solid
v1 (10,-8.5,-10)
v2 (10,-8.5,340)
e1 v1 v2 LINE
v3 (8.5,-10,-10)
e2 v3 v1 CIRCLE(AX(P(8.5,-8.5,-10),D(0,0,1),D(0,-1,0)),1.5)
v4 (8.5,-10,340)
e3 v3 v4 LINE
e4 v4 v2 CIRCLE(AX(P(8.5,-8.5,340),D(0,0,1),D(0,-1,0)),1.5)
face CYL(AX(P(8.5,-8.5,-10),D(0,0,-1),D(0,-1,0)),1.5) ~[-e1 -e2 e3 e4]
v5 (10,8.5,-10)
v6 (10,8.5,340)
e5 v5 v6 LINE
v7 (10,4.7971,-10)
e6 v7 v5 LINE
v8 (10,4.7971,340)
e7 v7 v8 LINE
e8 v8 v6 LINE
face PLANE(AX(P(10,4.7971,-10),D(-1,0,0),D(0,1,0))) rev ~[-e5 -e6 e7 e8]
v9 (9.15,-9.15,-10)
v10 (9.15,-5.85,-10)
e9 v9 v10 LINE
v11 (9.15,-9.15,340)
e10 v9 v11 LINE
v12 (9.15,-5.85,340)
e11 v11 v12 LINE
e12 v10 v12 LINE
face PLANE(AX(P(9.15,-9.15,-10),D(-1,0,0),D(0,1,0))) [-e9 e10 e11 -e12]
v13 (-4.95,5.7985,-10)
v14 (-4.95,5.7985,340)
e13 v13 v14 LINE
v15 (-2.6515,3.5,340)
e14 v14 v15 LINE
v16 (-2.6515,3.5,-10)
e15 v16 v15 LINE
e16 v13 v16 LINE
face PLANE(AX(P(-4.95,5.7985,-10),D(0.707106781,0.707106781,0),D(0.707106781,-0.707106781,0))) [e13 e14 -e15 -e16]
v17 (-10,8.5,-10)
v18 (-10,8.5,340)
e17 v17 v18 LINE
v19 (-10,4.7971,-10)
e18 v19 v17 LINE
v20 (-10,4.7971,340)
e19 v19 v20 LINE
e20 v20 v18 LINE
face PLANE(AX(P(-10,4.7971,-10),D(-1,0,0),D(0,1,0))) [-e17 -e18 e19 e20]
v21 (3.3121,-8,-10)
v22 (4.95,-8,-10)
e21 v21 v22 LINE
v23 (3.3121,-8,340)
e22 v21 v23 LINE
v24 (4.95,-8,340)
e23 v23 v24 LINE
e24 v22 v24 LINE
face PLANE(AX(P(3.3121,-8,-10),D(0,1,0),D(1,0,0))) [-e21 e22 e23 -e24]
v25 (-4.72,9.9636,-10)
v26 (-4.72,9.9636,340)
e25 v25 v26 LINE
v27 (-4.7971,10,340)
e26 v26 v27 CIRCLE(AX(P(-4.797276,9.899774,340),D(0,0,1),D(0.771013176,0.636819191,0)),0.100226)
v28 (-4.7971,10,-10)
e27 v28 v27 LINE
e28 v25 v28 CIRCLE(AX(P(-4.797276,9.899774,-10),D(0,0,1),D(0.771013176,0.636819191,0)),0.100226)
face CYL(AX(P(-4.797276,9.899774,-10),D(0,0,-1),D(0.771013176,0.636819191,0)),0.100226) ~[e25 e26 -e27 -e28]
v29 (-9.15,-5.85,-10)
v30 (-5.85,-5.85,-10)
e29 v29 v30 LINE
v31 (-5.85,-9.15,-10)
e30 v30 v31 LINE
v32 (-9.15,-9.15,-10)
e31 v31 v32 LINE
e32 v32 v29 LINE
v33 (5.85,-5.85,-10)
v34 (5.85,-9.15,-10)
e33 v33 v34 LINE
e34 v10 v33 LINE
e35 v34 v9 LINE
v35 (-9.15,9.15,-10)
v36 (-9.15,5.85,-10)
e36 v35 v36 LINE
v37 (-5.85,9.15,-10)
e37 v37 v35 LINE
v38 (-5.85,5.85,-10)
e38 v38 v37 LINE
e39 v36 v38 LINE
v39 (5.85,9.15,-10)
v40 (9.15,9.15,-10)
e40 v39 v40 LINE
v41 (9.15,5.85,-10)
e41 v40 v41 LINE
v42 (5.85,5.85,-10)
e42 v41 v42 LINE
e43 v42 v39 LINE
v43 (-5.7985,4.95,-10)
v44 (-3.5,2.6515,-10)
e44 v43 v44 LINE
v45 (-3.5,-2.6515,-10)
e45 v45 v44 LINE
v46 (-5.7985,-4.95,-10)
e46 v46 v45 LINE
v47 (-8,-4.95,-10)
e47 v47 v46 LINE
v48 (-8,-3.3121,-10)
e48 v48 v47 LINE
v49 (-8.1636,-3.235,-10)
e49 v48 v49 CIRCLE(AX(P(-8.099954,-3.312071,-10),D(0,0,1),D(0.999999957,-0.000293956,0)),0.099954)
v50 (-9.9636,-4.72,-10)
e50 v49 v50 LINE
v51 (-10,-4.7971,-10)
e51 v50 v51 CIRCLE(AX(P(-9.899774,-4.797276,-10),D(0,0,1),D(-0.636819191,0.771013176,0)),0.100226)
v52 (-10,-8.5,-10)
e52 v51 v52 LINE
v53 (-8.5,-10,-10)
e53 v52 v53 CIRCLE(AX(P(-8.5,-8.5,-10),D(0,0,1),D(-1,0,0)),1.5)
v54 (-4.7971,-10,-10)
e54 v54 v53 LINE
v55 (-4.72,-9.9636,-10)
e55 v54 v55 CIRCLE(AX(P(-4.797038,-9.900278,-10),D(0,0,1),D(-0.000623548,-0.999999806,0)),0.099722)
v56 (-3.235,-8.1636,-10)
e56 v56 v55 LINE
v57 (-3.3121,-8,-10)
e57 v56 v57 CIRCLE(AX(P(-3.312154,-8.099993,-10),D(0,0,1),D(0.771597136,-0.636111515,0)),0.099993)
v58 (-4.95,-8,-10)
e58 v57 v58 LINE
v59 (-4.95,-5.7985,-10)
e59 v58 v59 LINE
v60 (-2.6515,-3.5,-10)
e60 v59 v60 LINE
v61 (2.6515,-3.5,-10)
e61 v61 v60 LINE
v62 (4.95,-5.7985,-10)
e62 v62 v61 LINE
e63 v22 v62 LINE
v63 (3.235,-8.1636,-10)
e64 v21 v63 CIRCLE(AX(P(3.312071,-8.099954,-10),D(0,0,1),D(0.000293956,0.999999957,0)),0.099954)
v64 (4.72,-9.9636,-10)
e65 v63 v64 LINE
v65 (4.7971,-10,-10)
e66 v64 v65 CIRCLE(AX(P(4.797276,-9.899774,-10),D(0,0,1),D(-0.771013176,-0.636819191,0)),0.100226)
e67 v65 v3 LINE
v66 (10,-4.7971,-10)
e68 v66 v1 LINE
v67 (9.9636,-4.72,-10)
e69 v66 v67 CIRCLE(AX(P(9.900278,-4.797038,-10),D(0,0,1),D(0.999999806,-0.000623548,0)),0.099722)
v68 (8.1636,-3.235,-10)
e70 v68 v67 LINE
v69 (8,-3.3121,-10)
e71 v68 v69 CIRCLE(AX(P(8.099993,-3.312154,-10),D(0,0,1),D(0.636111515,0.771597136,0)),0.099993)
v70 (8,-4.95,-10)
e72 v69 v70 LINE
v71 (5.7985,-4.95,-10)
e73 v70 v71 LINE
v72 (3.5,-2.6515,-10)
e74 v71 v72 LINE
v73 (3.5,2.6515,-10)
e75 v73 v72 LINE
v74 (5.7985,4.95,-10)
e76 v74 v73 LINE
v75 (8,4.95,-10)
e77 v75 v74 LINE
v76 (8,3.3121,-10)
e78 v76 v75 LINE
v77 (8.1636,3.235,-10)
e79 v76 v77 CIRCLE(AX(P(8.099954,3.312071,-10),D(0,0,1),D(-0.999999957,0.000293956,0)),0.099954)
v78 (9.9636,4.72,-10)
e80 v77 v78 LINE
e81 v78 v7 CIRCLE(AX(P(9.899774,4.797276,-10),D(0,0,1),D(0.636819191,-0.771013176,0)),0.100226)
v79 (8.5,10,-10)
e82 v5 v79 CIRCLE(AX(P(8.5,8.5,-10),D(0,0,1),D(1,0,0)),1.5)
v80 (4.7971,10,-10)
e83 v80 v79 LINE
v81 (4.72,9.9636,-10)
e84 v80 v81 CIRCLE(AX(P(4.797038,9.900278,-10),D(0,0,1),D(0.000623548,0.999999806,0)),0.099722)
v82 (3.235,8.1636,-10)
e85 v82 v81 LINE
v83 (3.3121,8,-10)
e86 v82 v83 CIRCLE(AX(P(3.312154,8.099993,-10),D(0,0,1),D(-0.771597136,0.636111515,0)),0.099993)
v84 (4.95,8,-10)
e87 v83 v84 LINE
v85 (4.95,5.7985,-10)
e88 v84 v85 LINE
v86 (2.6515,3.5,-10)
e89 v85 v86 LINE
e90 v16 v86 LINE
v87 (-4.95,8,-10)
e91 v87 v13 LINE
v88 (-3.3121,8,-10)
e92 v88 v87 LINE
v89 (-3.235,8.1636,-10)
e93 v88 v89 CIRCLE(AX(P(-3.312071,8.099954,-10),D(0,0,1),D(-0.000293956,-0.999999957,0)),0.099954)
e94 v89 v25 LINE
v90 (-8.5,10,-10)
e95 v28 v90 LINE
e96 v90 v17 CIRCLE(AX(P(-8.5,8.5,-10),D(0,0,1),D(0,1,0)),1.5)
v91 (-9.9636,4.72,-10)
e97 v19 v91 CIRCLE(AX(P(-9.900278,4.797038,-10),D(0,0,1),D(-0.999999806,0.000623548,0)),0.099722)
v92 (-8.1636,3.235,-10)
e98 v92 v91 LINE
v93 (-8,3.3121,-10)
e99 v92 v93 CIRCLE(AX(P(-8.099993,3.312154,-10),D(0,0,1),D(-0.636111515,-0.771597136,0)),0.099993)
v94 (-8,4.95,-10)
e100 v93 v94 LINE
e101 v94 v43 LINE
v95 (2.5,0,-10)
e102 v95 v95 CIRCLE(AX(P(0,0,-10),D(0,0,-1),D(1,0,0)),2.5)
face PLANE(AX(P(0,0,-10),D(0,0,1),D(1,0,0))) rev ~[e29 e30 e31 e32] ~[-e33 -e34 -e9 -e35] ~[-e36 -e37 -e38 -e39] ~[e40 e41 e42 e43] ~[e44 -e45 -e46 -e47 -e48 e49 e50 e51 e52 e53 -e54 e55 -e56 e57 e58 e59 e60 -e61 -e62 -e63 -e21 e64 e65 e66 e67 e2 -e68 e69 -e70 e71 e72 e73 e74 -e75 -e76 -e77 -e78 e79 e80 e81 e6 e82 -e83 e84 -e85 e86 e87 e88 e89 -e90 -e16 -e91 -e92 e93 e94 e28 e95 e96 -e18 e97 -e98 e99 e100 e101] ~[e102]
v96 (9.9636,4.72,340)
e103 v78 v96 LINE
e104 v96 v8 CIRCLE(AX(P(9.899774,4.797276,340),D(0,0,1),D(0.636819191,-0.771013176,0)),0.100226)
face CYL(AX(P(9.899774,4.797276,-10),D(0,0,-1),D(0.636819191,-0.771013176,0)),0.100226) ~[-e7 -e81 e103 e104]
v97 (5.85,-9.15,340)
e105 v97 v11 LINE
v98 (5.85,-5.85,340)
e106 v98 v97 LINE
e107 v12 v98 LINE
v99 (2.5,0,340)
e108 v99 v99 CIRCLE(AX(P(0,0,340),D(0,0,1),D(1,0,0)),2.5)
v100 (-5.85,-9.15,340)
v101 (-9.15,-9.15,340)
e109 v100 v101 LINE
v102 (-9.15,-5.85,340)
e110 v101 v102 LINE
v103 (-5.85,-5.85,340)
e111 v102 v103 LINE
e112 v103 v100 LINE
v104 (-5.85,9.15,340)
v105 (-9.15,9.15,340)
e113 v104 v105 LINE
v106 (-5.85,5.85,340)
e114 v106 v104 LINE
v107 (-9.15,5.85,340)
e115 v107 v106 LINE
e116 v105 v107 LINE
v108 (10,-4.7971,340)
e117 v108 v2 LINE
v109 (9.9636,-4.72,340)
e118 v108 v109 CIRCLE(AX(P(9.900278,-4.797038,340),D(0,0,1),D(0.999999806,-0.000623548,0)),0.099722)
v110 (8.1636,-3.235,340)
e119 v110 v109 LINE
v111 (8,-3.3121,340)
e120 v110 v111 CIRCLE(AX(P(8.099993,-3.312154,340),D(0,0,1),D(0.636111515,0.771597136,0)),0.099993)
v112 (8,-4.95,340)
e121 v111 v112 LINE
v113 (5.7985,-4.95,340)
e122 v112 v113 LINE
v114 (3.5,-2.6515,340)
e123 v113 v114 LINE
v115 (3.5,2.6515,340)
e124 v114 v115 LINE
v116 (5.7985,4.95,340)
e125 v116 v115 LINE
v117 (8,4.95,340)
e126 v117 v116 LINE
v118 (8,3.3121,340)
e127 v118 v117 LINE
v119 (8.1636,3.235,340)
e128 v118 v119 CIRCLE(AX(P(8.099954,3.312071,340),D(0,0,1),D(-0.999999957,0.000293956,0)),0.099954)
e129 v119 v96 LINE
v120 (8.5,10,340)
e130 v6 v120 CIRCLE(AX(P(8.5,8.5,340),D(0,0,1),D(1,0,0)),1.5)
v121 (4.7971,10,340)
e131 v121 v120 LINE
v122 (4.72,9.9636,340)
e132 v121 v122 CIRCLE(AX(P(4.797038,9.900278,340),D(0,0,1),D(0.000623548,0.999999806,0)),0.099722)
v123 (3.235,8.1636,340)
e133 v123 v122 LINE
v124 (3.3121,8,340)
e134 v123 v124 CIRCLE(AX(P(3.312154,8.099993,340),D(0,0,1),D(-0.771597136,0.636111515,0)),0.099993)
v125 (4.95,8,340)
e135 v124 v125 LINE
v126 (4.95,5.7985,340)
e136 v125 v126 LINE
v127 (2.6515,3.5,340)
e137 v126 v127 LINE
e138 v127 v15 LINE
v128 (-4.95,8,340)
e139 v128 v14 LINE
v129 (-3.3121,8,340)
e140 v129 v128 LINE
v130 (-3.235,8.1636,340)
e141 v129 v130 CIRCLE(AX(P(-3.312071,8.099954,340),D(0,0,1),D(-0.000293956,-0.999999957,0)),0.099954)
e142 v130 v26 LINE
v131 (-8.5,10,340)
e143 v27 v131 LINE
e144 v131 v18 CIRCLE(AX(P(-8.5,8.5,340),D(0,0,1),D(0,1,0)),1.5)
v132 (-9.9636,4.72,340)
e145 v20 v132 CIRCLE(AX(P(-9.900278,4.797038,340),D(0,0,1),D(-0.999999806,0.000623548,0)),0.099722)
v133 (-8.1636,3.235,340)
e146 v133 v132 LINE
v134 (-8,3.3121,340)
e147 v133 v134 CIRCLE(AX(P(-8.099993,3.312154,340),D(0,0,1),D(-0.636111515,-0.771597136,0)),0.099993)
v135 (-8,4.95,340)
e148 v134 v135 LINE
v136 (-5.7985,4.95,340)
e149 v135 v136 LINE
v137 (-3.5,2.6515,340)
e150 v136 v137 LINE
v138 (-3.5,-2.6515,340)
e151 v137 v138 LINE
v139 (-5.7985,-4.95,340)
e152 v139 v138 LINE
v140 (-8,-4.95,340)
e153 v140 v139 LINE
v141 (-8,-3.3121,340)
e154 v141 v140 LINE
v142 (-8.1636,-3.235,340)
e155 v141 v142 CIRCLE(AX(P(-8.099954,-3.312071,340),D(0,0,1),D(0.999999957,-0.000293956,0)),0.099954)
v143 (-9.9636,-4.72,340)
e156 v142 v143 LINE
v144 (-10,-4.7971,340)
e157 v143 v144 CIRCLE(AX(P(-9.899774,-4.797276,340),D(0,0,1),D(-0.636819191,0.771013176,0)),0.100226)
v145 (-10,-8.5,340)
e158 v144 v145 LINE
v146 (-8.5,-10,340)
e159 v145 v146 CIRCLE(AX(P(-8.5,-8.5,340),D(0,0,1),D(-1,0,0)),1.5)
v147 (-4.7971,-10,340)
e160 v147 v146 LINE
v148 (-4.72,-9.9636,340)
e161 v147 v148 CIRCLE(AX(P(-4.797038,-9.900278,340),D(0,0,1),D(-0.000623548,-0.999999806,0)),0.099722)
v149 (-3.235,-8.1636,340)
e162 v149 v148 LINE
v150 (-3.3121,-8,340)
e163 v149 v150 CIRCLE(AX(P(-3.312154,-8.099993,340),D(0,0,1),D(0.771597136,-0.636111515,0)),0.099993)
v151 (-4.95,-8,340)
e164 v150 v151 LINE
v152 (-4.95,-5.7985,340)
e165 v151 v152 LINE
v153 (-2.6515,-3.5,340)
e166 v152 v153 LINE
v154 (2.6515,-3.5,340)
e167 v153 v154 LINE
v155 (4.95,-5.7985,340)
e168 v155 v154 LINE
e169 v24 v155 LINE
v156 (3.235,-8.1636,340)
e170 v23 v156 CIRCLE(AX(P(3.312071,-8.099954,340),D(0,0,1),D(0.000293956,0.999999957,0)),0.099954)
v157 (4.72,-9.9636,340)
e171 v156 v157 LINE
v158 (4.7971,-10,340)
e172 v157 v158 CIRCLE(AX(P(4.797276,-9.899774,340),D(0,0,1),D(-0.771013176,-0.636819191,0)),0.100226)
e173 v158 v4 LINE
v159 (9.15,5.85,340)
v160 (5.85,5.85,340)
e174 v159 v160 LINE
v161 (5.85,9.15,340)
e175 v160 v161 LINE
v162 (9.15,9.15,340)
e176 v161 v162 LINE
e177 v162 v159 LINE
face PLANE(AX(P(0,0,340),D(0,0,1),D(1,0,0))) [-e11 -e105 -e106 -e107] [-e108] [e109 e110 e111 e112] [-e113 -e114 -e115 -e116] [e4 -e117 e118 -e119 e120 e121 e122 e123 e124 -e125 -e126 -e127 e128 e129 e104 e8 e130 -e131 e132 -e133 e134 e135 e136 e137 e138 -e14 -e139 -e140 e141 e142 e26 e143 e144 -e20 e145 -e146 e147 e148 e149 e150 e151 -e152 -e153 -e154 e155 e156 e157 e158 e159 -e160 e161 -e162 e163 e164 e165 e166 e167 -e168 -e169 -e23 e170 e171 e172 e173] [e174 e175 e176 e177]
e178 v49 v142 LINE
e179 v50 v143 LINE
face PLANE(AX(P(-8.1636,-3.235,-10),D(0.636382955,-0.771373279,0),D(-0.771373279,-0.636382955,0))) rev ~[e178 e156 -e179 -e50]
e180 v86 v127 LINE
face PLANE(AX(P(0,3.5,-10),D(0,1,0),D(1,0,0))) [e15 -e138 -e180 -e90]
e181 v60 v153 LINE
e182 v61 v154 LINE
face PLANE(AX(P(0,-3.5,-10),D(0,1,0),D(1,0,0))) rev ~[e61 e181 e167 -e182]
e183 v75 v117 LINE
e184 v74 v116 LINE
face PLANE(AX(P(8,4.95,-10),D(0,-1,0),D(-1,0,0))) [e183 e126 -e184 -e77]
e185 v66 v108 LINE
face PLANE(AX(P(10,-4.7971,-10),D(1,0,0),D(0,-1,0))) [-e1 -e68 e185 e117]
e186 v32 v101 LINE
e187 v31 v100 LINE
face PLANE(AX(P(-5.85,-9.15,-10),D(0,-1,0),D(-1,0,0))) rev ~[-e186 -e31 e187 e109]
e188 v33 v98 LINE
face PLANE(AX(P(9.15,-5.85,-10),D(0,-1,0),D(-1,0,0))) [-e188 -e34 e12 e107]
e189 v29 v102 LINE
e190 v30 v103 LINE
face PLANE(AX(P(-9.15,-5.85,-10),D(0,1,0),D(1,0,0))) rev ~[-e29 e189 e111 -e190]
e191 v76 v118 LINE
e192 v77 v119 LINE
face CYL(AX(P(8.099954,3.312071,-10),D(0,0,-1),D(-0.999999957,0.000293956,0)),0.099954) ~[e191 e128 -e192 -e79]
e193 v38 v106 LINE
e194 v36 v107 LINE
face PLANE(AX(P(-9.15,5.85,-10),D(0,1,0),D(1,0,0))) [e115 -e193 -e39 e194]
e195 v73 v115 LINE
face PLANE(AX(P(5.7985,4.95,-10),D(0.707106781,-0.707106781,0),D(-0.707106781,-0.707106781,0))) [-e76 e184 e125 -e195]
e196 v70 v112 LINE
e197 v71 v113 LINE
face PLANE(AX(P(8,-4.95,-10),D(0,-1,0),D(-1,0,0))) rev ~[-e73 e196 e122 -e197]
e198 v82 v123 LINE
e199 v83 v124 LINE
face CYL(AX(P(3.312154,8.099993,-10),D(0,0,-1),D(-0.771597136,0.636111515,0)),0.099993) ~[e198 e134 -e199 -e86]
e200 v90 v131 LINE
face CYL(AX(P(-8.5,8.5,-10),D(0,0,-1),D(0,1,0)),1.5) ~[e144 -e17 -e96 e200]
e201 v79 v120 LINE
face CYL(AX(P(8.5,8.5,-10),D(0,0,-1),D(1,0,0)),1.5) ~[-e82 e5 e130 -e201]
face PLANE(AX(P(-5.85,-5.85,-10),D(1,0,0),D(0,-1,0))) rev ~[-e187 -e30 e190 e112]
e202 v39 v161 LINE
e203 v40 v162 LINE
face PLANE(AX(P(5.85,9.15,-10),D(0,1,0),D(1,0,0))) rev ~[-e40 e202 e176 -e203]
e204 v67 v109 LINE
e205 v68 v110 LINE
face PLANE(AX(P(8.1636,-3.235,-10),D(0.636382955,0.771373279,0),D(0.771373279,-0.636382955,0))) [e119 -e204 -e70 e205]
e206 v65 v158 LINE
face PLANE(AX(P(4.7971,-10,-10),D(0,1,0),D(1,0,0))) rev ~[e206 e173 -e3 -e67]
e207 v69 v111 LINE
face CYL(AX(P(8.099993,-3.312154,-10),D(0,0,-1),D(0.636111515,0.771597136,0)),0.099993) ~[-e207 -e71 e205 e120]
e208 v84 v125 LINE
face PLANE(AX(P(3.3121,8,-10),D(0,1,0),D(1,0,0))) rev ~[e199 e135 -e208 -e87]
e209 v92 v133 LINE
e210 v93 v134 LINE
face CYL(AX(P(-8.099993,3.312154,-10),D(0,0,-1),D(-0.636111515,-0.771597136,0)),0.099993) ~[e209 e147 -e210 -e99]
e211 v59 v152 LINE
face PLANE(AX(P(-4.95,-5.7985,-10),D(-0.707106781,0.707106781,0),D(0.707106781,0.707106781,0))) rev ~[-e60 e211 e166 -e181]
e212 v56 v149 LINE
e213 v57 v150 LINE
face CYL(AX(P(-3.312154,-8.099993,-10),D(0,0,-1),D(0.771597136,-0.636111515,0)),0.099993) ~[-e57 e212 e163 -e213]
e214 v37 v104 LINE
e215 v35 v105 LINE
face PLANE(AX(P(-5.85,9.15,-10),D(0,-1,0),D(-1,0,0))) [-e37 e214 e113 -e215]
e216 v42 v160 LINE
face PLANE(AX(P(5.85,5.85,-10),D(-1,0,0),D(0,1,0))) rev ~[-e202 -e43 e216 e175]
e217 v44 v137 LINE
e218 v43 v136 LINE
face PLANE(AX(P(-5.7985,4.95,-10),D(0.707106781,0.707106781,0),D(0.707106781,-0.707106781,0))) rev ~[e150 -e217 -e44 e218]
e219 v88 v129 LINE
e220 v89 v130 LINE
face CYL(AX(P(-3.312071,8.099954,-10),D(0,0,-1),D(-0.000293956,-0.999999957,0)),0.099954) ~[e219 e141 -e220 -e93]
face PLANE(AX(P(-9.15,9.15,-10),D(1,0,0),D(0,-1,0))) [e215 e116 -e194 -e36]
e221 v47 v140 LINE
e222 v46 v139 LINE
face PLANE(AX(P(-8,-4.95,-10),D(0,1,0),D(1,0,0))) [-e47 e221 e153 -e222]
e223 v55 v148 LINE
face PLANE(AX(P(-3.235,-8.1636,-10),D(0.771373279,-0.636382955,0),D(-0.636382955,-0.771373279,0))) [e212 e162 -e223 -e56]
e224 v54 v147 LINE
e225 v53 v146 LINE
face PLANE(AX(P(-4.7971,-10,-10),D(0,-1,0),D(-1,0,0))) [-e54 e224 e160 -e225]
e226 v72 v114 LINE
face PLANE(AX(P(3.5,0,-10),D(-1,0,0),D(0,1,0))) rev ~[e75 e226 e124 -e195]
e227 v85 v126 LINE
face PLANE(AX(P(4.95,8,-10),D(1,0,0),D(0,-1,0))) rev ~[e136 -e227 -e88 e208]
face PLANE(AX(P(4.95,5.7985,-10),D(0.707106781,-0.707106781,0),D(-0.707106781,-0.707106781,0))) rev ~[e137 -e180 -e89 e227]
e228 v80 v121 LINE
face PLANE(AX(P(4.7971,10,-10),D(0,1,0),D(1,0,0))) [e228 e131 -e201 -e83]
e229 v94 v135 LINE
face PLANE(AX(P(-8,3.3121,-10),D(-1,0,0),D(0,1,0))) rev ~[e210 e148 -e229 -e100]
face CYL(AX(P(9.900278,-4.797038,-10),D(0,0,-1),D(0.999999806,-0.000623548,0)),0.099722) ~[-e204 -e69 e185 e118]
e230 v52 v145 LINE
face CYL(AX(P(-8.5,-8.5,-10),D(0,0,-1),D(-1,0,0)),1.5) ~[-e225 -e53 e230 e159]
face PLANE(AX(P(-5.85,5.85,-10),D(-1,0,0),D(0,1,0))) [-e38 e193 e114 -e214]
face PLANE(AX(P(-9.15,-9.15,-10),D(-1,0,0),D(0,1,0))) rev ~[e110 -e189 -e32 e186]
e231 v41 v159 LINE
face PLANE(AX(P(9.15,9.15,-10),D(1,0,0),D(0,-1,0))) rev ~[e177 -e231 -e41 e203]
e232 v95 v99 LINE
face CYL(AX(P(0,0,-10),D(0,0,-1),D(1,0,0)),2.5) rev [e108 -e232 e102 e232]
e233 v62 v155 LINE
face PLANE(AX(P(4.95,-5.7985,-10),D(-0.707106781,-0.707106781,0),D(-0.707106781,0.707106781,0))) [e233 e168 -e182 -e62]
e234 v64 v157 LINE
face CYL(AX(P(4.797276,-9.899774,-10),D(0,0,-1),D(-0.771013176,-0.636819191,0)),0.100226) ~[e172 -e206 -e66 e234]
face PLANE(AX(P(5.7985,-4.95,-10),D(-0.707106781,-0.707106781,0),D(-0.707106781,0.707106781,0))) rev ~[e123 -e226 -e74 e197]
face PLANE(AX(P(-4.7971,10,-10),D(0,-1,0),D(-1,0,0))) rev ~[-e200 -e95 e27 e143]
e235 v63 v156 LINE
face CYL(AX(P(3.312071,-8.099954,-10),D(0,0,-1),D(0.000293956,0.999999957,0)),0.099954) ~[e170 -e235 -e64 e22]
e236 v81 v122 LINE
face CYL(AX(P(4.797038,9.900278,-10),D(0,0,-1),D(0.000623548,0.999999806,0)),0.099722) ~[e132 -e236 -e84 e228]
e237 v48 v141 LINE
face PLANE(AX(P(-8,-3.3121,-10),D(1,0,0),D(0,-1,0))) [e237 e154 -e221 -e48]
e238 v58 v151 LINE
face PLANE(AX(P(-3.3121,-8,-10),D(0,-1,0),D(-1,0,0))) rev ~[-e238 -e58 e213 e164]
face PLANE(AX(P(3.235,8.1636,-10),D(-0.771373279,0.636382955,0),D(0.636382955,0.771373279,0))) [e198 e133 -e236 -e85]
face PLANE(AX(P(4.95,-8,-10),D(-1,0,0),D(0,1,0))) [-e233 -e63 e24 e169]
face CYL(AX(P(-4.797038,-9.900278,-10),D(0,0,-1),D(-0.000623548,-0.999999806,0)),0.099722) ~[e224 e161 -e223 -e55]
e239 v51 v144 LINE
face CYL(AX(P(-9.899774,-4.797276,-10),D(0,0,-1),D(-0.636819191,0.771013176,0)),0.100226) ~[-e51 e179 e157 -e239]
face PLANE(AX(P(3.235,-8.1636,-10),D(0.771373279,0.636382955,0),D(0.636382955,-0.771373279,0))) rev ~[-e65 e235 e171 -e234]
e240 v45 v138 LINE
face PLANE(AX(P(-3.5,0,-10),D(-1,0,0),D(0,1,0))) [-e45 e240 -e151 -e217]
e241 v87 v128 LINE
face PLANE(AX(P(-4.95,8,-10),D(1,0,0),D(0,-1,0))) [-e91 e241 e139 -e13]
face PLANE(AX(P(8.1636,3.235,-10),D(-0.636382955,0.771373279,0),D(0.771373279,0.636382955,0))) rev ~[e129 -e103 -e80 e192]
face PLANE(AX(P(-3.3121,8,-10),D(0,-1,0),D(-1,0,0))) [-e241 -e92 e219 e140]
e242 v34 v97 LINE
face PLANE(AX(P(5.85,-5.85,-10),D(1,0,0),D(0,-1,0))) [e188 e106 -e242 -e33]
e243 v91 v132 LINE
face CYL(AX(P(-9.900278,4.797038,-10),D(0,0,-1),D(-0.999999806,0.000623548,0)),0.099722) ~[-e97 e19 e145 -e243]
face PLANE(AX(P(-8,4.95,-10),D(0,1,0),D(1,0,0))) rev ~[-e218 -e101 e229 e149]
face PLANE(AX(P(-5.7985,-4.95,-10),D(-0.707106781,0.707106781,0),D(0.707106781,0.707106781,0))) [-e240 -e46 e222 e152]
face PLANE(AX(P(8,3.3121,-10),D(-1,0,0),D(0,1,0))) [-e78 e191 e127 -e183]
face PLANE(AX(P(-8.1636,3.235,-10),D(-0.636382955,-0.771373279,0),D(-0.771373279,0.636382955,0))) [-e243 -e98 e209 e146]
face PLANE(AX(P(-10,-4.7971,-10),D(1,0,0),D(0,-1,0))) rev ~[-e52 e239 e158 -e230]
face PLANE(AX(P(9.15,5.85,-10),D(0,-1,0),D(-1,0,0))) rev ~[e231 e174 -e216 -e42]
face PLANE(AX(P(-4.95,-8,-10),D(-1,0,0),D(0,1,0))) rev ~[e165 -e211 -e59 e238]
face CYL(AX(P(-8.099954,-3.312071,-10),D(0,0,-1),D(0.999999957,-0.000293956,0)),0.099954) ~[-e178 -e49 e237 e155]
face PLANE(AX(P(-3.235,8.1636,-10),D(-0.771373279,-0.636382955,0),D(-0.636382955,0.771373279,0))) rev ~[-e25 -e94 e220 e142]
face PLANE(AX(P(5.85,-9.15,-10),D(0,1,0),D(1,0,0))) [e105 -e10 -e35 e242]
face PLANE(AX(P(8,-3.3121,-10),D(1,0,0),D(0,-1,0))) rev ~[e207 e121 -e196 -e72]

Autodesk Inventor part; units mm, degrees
ref_plane "Начальная плоскость" through (0, 0, -10) normal (0, 0, 1) x (1, 0, 0)
ref_plane "Конечная плоскость" through (0, 0, 340) normal (0, 0, 1) x (1, 0, 0)
sketch "Эскиз" plane through (0, 0, 0) normal (0, 0, 1) x (1, 0, 0)
  line L0 (-14.4349, 0) -> (14.4349, 0) projected
  line L1 (0, -14) -> (0, 14) projected
  line L2 (0, 0) -> (7.5, 7.5) construction
  circle A0 centre (7.5, 7.5) radius 1.65 construction
  line L3 (5.85, 9.15) -> (9.15, 9.15)
  line L4 (9.15, 9.15) -> (9.15, 5.85)
  line L5 (9.15, 5.85) -> (5.85, 5.85)
  line L6 (5.85, 5.85) -> (5.85, 9.15)
  line L7 (3.235, 8.1636) -> (4.72, 9.9636)
  line L8 (4.7971, 10) -> (8.5, 10)
  line L9 (3.3121, 8) -> (4.95, 8)
  line L10 (4.95, 8) -> (4.95, 5.7985)
  line L11 (4.95, 5.7985) -> (2.6515, 3.5)
  line L12 (0, 3.5) -> (2.6515, 3.5)
  circle A1 centre (0, 0) radius 2.5
  line L13 (8.1636, 3.235) -> (9.9636, 4.72)
  line L14 (10, 4.7971) -> (10, 8.5)
  line L15 (8, 3.3121) -> (8, 4.95)
  line L16 (8, 4.95) -> (5.7985, 4.95)
  line L17 (5.7985, 4.95) -> (3.5, 2.6515)
  line L18 (3.5, 0) -> (3.5, 2.6515)
  arc A2 (10, 8.5) -> (8.5, 10) centre (8.5, 8.5) ccw
  line L19 (0, 0) -> (-7.5, 7.5) construction
  circle A3 centre (-7.5, 7.5) radius 1.65 construction
  line L20 (-5.85, 9.15) -> (-9.15, 9.15)
  line L21 (-9.15, 9.15) -> (-9.15, 5.85)
  line L22 (-9.15, 5.85) -> (-5.85, 5.85)
  line L23 (-5.85, 5.85) -> (-5.85, 9.15)
  line L24 (-3.235, 8.1636) -> (-4.72, 9.9636)
  line L25 (-4.7971, 10) -> (-8.5, 10)
  line L26 (-3.3121, 8) -> (-4.95, 8)
  line L27 (-4.95, 8) -> (-4.95, 5.7985)
  line L28 (-4.95, 5.7985) -> (-2.6515, 3.5)
  line L29 (0, 3.5) -> (-2.6515, 3.5)
  line L30 (-3.5, 0) -> (-3.5, 2.6515)
  line L31 (-5.7985, 4.95) -> (-3.5, 2.6515)
  line L32 (-8, 4.95) -> (-5.7985, 4.95)
  line L33 (-8, 3.3121) -> (-8, 4.95)
  line L34 (-8.1636, 3.235) -> (-9.9636, 4.72)
  line L35 (-10, 4.7971) -> (-10, 8.5)
  arc A4 (-8.5, 10) -> (-10, 8.5) centre (-8.5, 8.5) ccw
  line L36 (0, 14) -> (0, -14)
  line L37 (0, 0) -> (7.5, -7.5) construction
  circle A5 centre (7.5, -7.5) radius 1.65 construction
  line L38 (5.85, -9.15) -> (9.15, -9.15)
  line L39 (9.15, -9.15) -> (9.15, -5.85)
  line L40 (9.15, -5.85) -> (5.85, -5.85)
  line L41 (5.85, -5.85) -> (5.85, -9.15)
  line L42 (3.235, -8.1636) -> (4.72, -9.9636)
  line L43 (4.7971, -10) -> (8.5, -10)
  line L44 (3.3121, -8) -> (4.95, -8)
  line L45 (4.95, -8) -> (4.95, -5.7985)
  line L46 (4.95, -5.7985) -> (2.6515, -3.5)
  line L47 (0, -3.5) -> (2.6515, -3.5)
  line L48 (3.5, 0) -> (3.5, -2.6515)
  line L49 (5.7985, -4.95) -> (3.5, -2.6515)
  line L50 (8, -4.95) -> (5.7985, -4.95)
  line L51 (8, -3.3121) -> (8, -4.95)
  line L52 (8.1636, -3.235) -> (9.9636, -4.72)
  line L53 (10, -4.7971) -> (10, -8.5)
  arc A6 (8.5, -10) -> (10, -8.5) centre (8.5, -8.5) ccw
  line L54 (0, 0) -> (-7.5, -7.5) construction
  line L55 (-4.95, -8) -> (-4.95, -5.7985)
  line L56 (-3.3121, -8) -> (-4.95, -8)
  line L57 (-5.7985, -4.95) -> (-3.5, -2.6515)
  line L58 (-4.95, -5.7985) -> (-2.6515, -3.5)
  line L59 (-3.5, 0) -> (-3.5, -2.6515)
  line L60 (0, -3.5) -> (-2.6515, -3.5)
  circle A7 centre (-7.5, -7.5) radius 1.65 construction
  line L61 (-5.85, -5.85) -> (-5.85, -9.15)
  line L62 (-5.85, -9.15) -> (-9.15, -9.15)
  line L63 (-9.15, -9.15) -> (-9.15, -5.85)
  line L64 (-9.15, -5.85) -> (-5.85, -5.85)
  line L65 (-3.235, -8.1636) -> (-4.72, -9.9636)
  line L66 (-8, -4.95) -> (-5.7985, -4.95)
  line L67 (-8, -3.3121) -> (-8, -4.95)
  line L68 (-8.1636, -3.235) -> (-9.9636, -4.72)
  line L69 (-4.7971, -10) -> (-8.5, -10)
  line L70 (-10, -4.7971) -> (-10, -8.5)
  arc A8 (-10, -8.5) -> (-8.5, -10) centre (-8.5, -8.5) ccw
  arc A9 (3.235, 8.1636) -> (3.3121, 8) centre (3.3121, 8.1) ccw
  arc A10 (4.7971, 10) -> (4.72, 9.9636) centre (4.7971, 9.9) ccw
  arc A11 (8, 3.3121) -> (8.1636, 3.235) centre (8.1, 3.3121) ccw
  arc A12 (9.9636, 4.72) -> (10, 4.7971) centre (9.9, 4.7971) ccw
  arc A13 (-3.3121, 8) -> (-3.235, 8.1636) centre (-3.3121, 8.1) ccw
  arc A14 (-4.72, 9.9636) -> (-4.7971, 10) centre (-4.7971, 9.9) ccw
  arc A15 (-8.1636, 3.235) -> (-8, 3.3121) centre (-8.1, 3.3121) ccw
  arc A16 (-10, 4.7971) -> (-9.9636, 4.72) centre (-9.9, 4.7971) ccw
  arc A17 (-8, -3.3121) -> (-8.1636, -3.235) centre (-8.1, -3.3121) ccw
  arc A18 (-9.9636, -4.72) -> (-10, -4.7971) centre (-9.9, -4.7971) ccw
  arc A19 (-3.235, -8.1636) -> (-3.3121, -8) centre (-3.3121, -8.1) ccw
  arc A20 (-4.7971, -10) -> (-4.72, -9.9636) centre (-4.7971, -9.9) ccw
  arc A21 (4.72, -9.9636) -> (4.7971, -10) centre (4.7971, -9.9) ccw
  arc A22 (3.3121, -8) -> (3.235, -8.1636) centre (3.3121, -8.1) ccw
  arc A23 (8.1636, -3.235) -> (8, -3.3121) centre (8.1, -3.3121) ccw
  arc A24 (10, -4.7971) -> (9.9636, -4.72) centre (9.9, -4.7971) ccw
  point P0 (3.1, 8)
  point P1 (4.75, 10)
  point P2 (7.5, 9.15)
  point P3 (8, 3.1)
  point P4 (10, 4.75)
  point P5 (7.5, 5.85)
  point P6 (9.15, 7.5)
  point P7 (-3.1, 8)
  point P8 (-4.75, 10)
  point P9 (-7.5, 9.15)
  point P10 (-8, 3.1)
  point P11 (-10, 4.75)
  point P12 (-7.5, 5.85)
  point P13 (-9.15, 7.5)
  point P14 (3.1, -8)
  point P15 (4.75, -10)
  point P16 (7.5, -9.15)
  point P17 (8, -3.1)
  point P18 (10, -4.75)
  point P19 (7.5, -5.85)
  point P20 (9.15, -7.5)
  point P21 (-3.1, -8)
  point P22 (-7.5, -5.85)
  point P23 (-7.5, -9.15)
  point P24 (-9.15, -7.5)
  point P25 (-4.75, -10)
  point P26 (-8, -3.1)
  point P27 (-10, -4.75)
  dimension "d0" = 45
  dimension "d1" = 3.3
  dimension "d2" = 1.5
  dimension "d3" = 1.2
  dimension "d4" = 5
  dimension "d5" = 6.5
  dimension "d6" = 15
  dimension "d7" = 20
  dimension "d8" = 9.9
  dimension "d9" = 9.5
  dimension "d10" = 6.2
  dimension "d11" = 2
  dimension "d18" = 0.1
  dimension "d19" = 0.1
extrude "Тело" add sketch "Эскиз" along normal up to surface (350 mm away) from surface at -10 contours A1 L1 L12 L11 L10 L9 A9 L7 A10 L8 A2 L14 A12 L13 A11 L15 L16 L17 L18 L0 | L0 L48 L49 L50 L51 A23 L52 A24 L53 A6 L43 A21 L42 A22 L44 L45 L46 L47 L1 A1 | A1 L0 L30 L31 L32 L33 A15 L34 A16 L35 A4 L25 A14 L24 A13 L26 L27 L28 L29 L1 | L1 L60 L58 L55 L56 A19 L65 A20 L69 A8 L70 A18 L68 A17 L67 L66 L57 L59 L0 A1
sketch "Эскиз2" plane through (0, 0, 0) normal (0, 0, 1) x (1, 0, 0)
  line L0 (0, 0) -> (10, 0)
ref_plane "РабПлоскость3" through (0, 0, 0) normal (0, -1, 0) x (1, 0, 0)
sketch "Эскиз3" plane through (0, 0, 0) normal (0, -1, 0) x (1, 0, 0)
  line L0 (-2, -10) -> (12, -10)
  line L1 (-2, 340) -> (12, 340)
  dimension "d25" = 350
ref_plane "РабПлоскость4" through (0, 0, -10) normal (0, 0, -1) x (-1, 0, 0)
split "Разделение1" plane through (0, 0, -10) removes the side toward (0, 0, -1)
ref_plane "РабПлоскость5" through (40, 0, -10) normal (0, 0, -1) x (-1, 0, 0)
split "Разделение2" plane through (40, 0, -10) removes the side toward (0, 0, -1)
ref_plane "РабПлоскость6" through (0, -10, 340) normal (0, 0, 1) x (1, 0, 0)
split "Разделение3" plane through (0, -10, 340) removes the side toward (0, 0, 1)
ref_plane "РабПлоскость7" through (50, 0, 340) normal (0, 0, 1) x (1, 0, 0)
split "Разделение4" plane through (50, 0, 340) removes the side toward (0, 0, 1)
properties part number "короткая палка" material "Алюминий 6061"
